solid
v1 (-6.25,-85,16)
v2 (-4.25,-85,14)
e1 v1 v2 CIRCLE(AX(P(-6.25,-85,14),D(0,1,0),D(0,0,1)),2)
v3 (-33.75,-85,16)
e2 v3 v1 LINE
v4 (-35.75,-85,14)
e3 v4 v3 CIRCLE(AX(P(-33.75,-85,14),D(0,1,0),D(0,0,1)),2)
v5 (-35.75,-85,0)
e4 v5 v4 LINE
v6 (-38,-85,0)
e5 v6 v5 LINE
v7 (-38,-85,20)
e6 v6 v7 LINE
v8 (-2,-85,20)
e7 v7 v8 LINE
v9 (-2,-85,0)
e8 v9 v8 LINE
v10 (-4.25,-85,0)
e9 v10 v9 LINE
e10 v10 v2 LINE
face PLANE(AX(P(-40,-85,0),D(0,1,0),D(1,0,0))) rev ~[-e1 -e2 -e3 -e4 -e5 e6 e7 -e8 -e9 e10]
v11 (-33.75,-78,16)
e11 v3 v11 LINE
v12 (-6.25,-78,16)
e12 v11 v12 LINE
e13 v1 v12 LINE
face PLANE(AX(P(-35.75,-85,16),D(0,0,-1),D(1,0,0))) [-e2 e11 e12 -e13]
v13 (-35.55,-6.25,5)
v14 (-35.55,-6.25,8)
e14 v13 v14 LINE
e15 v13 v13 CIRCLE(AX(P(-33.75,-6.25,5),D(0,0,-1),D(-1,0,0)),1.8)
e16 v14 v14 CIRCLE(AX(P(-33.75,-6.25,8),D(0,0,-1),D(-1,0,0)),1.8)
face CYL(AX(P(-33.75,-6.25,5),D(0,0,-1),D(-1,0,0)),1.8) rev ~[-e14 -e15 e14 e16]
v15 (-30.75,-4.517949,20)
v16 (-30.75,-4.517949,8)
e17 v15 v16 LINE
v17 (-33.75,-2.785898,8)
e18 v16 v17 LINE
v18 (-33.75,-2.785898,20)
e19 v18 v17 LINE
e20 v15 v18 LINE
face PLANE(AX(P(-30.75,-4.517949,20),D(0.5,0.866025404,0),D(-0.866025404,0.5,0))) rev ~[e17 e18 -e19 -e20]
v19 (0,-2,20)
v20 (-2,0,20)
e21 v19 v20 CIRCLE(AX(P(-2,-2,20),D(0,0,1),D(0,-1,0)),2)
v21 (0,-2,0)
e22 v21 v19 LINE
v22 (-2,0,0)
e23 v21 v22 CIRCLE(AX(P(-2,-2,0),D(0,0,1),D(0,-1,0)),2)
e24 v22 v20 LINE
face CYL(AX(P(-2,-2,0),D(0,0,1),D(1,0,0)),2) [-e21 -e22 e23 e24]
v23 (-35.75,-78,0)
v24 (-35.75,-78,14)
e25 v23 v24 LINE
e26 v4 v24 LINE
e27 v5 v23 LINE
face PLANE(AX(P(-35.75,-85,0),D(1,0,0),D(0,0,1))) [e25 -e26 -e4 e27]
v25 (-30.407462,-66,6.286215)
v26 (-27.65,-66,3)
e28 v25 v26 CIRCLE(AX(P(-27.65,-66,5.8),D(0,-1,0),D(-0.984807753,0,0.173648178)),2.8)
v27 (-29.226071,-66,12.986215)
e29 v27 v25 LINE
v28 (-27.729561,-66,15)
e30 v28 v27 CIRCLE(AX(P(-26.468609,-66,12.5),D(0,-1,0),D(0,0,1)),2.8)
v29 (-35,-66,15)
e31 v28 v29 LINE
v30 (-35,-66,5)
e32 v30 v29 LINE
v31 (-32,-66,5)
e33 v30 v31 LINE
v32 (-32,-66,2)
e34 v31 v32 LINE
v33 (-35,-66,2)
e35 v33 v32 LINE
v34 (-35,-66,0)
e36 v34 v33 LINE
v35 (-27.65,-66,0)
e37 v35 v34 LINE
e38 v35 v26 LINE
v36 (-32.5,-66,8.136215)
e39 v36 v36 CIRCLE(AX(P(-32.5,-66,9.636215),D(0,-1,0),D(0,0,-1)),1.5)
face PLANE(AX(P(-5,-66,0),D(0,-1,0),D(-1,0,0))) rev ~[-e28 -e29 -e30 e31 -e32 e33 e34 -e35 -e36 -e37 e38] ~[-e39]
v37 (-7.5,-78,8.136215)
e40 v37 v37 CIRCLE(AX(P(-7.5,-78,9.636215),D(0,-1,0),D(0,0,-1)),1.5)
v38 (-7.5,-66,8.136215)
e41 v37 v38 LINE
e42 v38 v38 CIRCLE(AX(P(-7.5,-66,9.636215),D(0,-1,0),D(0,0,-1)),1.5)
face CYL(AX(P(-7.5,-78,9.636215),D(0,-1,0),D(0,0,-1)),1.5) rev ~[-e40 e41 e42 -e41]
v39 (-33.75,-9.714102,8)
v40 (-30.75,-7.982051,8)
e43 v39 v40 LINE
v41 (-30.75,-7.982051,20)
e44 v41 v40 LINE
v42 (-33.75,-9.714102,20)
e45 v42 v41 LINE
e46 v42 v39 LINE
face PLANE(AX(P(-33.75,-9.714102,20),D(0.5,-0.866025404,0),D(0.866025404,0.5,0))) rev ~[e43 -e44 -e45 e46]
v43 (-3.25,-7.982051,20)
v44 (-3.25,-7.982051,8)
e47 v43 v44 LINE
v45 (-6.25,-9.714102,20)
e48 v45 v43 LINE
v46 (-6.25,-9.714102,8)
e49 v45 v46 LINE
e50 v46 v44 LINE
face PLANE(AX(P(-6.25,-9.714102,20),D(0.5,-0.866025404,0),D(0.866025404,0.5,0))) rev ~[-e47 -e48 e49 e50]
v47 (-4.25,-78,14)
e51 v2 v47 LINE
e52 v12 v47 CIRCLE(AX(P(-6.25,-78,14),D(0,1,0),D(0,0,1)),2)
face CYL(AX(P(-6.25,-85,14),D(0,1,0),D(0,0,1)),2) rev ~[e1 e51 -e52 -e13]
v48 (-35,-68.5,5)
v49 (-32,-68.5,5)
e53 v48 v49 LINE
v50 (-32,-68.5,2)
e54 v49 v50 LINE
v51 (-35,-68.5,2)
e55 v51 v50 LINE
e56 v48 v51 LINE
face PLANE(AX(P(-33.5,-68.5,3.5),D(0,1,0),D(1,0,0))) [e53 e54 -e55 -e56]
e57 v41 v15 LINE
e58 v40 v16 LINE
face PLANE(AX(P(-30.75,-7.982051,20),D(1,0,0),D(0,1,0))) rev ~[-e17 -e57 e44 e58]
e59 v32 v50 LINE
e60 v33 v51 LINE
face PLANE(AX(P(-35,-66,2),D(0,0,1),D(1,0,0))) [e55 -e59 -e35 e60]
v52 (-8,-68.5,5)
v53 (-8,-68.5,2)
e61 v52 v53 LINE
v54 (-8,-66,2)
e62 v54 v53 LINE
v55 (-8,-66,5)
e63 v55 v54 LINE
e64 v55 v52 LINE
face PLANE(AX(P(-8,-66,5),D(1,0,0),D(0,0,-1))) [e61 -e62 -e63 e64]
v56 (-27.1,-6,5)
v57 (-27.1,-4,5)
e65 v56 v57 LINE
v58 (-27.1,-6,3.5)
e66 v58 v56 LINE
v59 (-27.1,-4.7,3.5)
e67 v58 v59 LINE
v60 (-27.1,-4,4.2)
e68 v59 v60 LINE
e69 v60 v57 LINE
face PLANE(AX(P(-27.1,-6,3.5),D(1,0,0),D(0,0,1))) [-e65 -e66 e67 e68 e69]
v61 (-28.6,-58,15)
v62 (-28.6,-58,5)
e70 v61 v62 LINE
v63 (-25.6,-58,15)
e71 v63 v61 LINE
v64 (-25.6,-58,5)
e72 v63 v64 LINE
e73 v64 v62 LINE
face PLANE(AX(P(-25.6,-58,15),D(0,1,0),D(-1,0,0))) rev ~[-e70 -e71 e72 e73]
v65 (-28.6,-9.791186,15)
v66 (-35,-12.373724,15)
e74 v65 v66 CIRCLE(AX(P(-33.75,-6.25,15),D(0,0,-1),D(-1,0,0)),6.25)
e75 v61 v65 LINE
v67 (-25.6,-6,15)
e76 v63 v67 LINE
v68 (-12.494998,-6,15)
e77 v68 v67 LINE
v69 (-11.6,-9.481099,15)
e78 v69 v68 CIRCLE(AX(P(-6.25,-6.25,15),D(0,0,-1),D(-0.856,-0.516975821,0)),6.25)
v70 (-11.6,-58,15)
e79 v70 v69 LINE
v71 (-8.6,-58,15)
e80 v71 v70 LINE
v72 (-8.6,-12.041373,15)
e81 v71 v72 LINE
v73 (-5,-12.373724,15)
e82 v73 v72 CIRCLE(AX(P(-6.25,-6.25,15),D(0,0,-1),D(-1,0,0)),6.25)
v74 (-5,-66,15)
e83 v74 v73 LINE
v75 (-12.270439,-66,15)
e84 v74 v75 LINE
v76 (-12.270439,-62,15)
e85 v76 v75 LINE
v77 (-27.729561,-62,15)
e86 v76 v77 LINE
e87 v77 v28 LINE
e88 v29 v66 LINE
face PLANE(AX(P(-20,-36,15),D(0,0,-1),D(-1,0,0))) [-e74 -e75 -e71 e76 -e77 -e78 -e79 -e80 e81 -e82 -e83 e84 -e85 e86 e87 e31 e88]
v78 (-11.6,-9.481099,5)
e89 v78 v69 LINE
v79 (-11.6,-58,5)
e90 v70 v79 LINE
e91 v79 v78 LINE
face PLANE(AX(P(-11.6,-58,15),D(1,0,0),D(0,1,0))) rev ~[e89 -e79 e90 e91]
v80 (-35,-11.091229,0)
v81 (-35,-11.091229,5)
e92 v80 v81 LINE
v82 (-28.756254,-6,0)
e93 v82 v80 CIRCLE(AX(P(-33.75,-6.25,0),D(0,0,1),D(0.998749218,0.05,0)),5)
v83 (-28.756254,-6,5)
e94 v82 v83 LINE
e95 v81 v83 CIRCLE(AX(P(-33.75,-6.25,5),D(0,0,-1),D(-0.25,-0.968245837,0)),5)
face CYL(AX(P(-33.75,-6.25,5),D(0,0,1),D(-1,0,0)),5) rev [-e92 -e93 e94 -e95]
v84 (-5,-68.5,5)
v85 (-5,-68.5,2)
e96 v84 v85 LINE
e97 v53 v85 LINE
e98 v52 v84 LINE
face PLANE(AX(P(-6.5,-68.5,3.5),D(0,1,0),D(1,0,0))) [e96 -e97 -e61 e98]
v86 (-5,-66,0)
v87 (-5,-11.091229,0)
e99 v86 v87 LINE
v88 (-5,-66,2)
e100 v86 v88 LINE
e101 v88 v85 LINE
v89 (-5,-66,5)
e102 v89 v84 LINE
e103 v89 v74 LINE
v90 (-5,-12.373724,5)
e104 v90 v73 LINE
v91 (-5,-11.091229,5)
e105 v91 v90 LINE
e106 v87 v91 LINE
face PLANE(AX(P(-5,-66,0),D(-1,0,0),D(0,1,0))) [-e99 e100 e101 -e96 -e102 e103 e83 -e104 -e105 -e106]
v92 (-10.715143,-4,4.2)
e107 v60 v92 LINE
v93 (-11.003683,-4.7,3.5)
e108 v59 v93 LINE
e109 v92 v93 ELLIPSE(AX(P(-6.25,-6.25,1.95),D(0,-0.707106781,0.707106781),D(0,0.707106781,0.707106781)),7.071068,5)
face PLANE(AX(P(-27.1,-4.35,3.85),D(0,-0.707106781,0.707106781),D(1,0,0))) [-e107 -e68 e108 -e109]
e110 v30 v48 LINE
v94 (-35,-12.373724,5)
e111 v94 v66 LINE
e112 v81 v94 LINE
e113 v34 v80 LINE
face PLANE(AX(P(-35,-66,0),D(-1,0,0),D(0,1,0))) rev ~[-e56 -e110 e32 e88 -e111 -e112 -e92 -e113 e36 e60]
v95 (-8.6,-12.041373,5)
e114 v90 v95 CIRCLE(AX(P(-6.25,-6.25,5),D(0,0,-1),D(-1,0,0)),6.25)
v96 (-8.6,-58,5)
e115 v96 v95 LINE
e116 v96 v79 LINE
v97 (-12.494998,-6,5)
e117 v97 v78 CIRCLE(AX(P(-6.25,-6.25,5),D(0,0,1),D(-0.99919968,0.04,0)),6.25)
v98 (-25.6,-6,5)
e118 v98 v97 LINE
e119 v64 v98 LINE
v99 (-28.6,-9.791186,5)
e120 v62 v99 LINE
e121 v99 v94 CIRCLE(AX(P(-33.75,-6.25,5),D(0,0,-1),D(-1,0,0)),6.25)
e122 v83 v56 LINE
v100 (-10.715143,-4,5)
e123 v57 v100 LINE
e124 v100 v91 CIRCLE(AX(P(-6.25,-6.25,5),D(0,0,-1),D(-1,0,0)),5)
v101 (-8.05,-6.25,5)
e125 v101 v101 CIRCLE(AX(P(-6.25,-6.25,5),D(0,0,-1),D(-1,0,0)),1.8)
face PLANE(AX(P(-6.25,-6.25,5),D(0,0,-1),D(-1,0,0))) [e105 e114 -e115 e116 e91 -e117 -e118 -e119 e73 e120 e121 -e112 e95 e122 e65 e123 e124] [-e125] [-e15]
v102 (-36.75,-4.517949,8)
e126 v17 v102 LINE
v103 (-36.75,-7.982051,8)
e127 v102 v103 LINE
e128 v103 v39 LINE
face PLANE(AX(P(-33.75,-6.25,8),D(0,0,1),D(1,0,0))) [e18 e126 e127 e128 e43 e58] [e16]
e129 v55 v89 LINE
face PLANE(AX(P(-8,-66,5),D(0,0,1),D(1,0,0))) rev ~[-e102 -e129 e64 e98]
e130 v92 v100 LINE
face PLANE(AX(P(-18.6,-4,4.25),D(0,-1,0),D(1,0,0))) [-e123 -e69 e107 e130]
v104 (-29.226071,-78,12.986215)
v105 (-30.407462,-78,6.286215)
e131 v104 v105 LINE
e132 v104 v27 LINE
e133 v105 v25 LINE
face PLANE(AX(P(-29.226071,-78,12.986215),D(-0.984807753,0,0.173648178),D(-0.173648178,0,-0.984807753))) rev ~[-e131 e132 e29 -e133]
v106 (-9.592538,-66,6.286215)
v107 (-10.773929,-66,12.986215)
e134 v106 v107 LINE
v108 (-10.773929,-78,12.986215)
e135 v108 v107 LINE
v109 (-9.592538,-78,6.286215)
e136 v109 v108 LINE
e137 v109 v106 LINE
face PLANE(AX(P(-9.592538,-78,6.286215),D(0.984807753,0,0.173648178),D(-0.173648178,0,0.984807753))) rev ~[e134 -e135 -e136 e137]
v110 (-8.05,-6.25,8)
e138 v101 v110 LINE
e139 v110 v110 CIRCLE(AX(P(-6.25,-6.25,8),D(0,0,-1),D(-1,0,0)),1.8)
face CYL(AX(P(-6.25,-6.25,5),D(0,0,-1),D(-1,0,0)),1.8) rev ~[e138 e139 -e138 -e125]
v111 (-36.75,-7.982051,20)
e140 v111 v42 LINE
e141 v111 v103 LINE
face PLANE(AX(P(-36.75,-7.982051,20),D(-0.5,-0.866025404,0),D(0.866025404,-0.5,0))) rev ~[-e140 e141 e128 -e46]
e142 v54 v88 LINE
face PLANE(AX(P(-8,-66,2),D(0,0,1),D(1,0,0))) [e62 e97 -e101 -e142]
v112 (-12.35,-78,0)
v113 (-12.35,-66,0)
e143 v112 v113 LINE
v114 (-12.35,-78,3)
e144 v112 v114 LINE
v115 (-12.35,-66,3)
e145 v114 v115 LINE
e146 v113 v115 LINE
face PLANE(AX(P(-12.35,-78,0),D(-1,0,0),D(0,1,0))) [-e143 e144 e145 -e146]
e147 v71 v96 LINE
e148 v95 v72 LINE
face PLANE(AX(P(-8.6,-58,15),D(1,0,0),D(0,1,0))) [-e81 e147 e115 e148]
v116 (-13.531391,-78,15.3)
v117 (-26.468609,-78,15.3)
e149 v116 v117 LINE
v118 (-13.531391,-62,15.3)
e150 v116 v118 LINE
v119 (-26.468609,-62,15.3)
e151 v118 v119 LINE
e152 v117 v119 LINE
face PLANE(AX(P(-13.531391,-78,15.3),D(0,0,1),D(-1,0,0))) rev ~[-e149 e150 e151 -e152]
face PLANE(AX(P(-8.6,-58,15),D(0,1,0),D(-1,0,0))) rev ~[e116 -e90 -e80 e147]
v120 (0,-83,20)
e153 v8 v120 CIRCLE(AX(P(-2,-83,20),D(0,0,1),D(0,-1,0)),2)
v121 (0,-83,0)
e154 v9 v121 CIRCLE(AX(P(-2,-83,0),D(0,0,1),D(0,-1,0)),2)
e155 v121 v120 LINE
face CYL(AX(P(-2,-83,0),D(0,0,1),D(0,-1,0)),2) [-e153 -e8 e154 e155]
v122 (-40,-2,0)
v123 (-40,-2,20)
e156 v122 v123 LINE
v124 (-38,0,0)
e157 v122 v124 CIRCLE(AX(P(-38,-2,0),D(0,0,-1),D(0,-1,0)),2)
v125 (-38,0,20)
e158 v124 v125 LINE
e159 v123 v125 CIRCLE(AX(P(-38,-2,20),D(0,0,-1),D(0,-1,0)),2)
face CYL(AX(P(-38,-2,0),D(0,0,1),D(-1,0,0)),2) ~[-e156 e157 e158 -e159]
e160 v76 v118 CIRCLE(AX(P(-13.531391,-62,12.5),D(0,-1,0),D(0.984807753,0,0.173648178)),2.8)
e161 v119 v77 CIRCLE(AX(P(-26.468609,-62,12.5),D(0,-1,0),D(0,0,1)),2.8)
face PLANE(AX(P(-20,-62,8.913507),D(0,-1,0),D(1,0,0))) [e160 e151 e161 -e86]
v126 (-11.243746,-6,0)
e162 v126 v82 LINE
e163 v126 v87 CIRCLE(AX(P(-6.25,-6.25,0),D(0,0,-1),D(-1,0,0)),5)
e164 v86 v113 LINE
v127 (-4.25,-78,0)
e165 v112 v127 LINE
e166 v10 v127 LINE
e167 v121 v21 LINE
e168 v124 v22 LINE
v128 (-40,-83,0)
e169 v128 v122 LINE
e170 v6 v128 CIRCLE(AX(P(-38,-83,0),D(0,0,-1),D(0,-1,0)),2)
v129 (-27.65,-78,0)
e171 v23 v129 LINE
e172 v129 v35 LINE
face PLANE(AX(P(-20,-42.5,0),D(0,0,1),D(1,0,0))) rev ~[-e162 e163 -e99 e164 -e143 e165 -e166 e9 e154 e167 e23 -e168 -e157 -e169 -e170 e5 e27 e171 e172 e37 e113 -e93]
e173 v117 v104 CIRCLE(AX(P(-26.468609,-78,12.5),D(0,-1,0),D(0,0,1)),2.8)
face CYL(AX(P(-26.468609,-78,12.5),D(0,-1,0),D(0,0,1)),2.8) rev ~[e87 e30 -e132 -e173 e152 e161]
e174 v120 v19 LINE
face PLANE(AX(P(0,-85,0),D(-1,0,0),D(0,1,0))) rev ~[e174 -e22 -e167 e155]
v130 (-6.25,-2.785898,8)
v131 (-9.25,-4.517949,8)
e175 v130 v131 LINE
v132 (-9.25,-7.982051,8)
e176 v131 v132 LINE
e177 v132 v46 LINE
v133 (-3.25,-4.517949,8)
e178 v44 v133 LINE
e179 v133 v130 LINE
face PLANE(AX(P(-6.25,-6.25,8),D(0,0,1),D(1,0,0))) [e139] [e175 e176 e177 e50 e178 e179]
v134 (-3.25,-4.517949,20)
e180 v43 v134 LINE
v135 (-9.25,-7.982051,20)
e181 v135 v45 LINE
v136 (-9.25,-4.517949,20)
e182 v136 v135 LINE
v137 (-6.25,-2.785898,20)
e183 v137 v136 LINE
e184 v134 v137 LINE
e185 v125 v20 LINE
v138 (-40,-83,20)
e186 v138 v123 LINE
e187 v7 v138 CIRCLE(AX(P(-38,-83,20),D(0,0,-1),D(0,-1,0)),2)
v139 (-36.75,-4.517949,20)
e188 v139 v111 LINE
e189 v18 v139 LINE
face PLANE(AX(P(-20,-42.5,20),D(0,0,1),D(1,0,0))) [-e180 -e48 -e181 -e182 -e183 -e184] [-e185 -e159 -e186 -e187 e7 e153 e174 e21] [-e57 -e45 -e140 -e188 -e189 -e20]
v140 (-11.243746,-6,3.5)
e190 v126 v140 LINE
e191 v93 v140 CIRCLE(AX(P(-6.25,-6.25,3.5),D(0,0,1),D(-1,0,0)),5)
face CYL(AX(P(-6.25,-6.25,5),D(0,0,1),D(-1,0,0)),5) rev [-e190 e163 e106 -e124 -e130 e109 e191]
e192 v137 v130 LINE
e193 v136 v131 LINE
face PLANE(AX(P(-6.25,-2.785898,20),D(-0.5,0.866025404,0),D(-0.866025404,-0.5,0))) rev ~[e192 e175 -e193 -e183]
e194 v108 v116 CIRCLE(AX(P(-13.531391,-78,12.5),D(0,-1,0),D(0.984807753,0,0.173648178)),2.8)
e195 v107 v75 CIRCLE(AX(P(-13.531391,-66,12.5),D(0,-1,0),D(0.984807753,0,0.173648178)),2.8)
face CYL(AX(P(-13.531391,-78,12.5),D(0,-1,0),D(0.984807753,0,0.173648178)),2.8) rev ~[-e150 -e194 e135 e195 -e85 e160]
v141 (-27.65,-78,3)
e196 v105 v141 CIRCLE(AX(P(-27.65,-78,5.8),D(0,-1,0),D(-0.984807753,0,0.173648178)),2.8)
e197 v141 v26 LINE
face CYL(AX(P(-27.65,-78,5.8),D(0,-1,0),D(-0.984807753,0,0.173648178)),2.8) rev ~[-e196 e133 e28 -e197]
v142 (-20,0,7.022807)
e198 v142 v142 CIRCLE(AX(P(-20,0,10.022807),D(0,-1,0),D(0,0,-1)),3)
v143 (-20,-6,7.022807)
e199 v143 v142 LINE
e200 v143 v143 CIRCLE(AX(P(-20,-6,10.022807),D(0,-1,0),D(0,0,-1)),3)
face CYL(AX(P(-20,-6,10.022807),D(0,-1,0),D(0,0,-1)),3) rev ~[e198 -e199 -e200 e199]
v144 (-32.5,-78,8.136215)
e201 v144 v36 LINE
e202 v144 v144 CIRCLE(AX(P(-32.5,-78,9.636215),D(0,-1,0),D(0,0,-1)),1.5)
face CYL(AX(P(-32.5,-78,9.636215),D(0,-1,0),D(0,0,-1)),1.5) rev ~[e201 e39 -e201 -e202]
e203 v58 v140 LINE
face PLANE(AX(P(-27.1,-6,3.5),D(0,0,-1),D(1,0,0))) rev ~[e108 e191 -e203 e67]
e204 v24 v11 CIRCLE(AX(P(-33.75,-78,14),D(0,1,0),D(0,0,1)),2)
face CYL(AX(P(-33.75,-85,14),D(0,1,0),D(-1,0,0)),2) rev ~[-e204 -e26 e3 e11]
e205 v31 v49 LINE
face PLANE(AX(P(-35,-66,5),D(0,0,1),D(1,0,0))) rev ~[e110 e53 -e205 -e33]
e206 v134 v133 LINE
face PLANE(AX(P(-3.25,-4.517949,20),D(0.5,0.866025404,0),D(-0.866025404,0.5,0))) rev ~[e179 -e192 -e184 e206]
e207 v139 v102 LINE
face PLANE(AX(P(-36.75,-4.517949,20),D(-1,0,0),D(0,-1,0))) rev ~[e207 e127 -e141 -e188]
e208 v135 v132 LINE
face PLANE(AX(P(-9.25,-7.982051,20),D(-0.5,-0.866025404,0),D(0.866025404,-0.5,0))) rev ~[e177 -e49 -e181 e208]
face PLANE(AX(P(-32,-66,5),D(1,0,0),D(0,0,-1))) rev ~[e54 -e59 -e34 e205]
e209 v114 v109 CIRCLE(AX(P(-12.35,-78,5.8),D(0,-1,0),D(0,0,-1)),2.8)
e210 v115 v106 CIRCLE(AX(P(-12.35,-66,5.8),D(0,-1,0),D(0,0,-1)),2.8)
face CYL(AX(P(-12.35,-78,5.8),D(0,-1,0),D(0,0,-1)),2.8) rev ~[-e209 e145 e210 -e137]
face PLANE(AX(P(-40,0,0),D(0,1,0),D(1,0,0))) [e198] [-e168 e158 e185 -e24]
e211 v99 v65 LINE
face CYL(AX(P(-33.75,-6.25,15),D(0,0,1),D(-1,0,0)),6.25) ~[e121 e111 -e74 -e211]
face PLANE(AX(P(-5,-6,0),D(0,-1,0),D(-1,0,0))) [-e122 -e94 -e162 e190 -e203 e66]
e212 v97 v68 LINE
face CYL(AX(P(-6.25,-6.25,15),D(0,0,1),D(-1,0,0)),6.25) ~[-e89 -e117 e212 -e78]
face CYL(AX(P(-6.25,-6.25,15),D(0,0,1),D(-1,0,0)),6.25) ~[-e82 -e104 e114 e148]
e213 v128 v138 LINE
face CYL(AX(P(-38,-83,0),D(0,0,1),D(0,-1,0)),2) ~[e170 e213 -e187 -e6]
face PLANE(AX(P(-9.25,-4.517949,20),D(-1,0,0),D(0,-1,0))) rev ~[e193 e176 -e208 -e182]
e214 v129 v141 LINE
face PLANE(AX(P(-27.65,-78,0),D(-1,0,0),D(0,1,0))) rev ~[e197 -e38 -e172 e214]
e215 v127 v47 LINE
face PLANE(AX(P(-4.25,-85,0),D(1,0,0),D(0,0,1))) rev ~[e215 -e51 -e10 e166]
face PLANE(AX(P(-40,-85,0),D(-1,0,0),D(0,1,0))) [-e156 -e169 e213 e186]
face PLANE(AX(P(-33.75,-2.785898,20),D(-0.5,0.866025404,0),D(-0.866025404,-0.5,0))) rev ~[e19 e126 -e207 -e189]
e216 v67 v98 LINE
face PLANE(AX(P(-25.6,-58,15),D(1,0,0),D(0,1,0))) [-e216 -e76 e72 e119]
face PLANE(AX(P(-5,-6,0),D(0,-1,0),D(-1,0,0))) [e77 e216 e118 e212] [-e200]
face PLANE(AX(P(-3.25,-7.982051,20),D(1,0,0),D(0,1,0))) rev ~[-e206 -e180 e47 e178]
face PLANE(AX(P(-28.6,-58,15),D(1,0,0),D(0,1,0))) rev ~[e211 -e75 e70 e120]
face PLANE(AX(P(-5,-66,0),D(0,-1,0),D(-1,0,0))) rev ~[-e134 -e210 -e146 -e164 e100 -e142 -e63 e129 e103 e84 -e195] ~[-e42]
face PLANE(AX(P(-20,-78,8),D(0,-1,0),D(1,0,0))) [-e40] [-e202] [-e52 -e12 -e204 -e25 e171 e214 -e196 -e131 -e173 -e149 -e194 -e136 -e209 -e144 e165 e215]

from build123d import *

# Parameters (mm, degrees)
SKETCH_1_W           = 40
SKETCH_1_H           = 85
EXTRUDE_1_DEPTH      = 20
SKETCH_2_W           = 30
SKETCH_2_H           = 60
CUT_EXTRUDE_1_DEPTH  = 15
SKETCH_3_W           = 31.5
SKETCH_3_H           = 16
CUT_EXTRUDE_3_DEPTH  = 7
SKETCH_4_R           = 1.5
CUT_EXTRUDE_4_DEPTH  = 16
FILLET_1_R           = 2
FILLET_2_R           = 2
SKETCH_6_W           = 15.3
SKETCH_6_H           = 12
CUT_EXTRUDE_5_DEPTH  = 4
SKETCH_7_W           = 3
SKETCH_7_H           = 52
EXTRUDE_2_DEPTH      = 10
SKETCH_8_W           = 17
SKETCH_8_H           = 1.5
CUT_EXTRUDE_6_DEPTH  = 2
CHAMFER_1_SIZE       = 0.7
SKETCH_9_R           = 3
CUT_EXTRUDE_7_DEPTH  = 15
SKETCH_10_W          = 3
SKETCH_10_H          = 3
CUT_EXTRUDE_8_DEPTH  = 2.5
EXTRUDE_START        = -15
SKETCH_14_R          = 6.25
EXTRUDE_4_DEPTH      = 10
CUT_EXTRUDE_START    = -5
SKETCH_16_R          = 5
CUT_EXTRUDE_10_DEPTH = 5
SKETCH_17_R          = 1.8
CUT_EXTRUDE_11_DEPTH = 96.131487952
CUT_EXTRUDE_12_DEPTH = 12


with BuildPart() as part:
    # Эскиз1 → Бобышка-Вытянуть1 (new body)
    with BuildSketch(Plane.XY):
        with Locations((-20, -42.5)):
            Rectangle(SKETCH_1_W, SKETCH_1_H)
    extrude(amount=EXTRUDE_1_DEPTH)

    # Эскиз2 → Вырез-Вытянуть1 (cut)
    with BuildSketch(Plane(origin=(0, 0, 0), x_dir=(-1, 0, 0), z_dir=(0, 0, -1))):
        with Locations((20, -36)):
            Rectangle(SKETCH_2_W, SKETCH_2_H)
    extrude(amount=-CUT_EXTRUDE_1_DEPTH, mode=Mode.SUBTRACT)

    # Эскиз3 → Вырез-Вытянуть3 (cut)
    with BuildSketch(Plane.XZ.offset(85)):
        with Locations((-20, 8)):
            Rectangle(SKETCH_3_W, SKETCH_3_H)
    extrude(amount=-CUT_EXTRUDE_3_DEPTH, mode=Mode.SUBTRACT)

    # Эскиз4 → Вырез-Вытянуть4 (cut)
    with BuildSketch(Plane.XZ.offset(78)):
        with Locations(Location((-7.5, 9.636214897, 0), (0, 0, 270))):
            Circle(SKETCH_4_R)
        with Locations(Location((-32.5, 9.636214897, 0), (0, 0, 270))):
            Circle(SKETCH_4_R)
        with BuildLine():
            Line((-13.531390771, 15.3), (-26.468609229, 15.3))
            ThreePointArc((-26.468609229, 15.3), (-28.268414536, 14.644924441), (-29.226070938, 12.986214897))
            Line((-29.226070938, 12.986214897), (-30.407461708, 6.286214897))
            ThreePointArc((-30.407461708, 6.286214897), (-29.794924441, 4.000194693), (-27.65, 3))
            Line((-27.65, 3), (-12.35, 3))
            ThreePointArc((-12.35, 3), (-10.205075559, 4.000194693), (-9.592538292, 6.286214897))
            Line((-9.592538292, 6.286214897), (-10.773929062, 12.986214897))
            ThreePointArc((-10.773929062, 12.986214897), (-11.731585464, 14.644924441), (-13.531390771, 15.3))
        make_face()
    extrude(amount=-CUT_EXTRUDE_4_DEPTH, mode=Mode.SUBTRACT)

    # Скругление1
    fillet_1_edges = [part.edges().sort_by_distance(p)[0] for p in [
        (-4.25, -81.5, 16),
        (-35.75, -81.5, 16),
    ]]
    fillet(fillet_1_edges, radius=FILLET_1_R)

    # Скругление2
    fillet_2_edges = [part.edges().sort_by_distance(p)[0] for p in [
        (0, -85, 10),
        (-40, -85, 10),
        (-40, 0, 10),
        (0, 0, 10),
    ]]
    fillet(fillet_2_edges, radius=FILLET_2_R)

    # Эскиз6 → Вырез-Вытянуть5 (cut)
    with BuildSketch(Plane(origin=(0, 0, 0), x_dir=(-1, 0, 0), z_dir=(0, 0, -1))):
        with Locations((20, -72)):
            Rectangle(SKETCH_6_W, SKETCH_6_H)
    extrude(amount=-CUT_EXTRUDE_5_DEPTH, mode=Mode.SUBTRACT)

    # Эскиз7 → Бобышка-Вытянуть2 (add)
    with BuildSketch(Plane(origin=(0, 0, 15), x_dir=(-1, 0, 0), z_dir=(0, 0, -1))):
        with Locations((10.1, -32)):
            Rectangle(SKETCH_7_W, SKETCH_7_H)
        with Locations((27.1, -32)):
            Rectangle(SKETCH_7_W, SKETCH_7_H)
    extrude(amount=EXTRUDE_2_DEPTH)

    # Эскиз8 → Вырез-Вытянуть6 (cut)
    with BuildSketch(Plane.XZ.offset(6)):
        with Locations((-18.6, 4.25)):
            Rectangle(SKETCH_8_W, SKETCH_8_H)
    extrude(amount=-CUT_EXTRUDE_6_DEPTH, mode=Mode.SUBTRACT)

    # Фаска1
    chamfer_1_edges = [part.edges().sort_by_distance(p)[0] for p in [
        (-18.6, -4, 3.5),
    ]]
    chamfer(chamfer_1_edges, length=CHAMFER_1_SIZE)

    # Эскиз9 → Вырез-Вытянуть7 (cut)
    with BuildSketch(Plane.XZ.offset(6)):
        with Locations(Location((-20, 10.022807371, 0), (0, 0, 270))):
            Circle(SKETCH_9_R)
    extrude(amount=-CUT_EXTRUDE_7_DEPTH, mode=Mode.SUBTRACT)

    # Эскиз10 → Вырез-Вытянуть8 (cut)
    with BuildSketch(Plane(origin=(0, -66, 0), x_dir=(1, 0, 0), z_dir=(0, 1, 0))):
        with Locations((-33.5, -3.5)):
            Rectangle(SKETCH_10_W, SKETCH_10_H)
        with Locations((-6.5, -3.5)):
            Rectangle(SKETCH_10_W, SKETCH_10_H)
    extrude(amount=-CUT_EXTRUDE_8_DEPTH, mode=Mode.SUBTRACT)

    # Эскиз14 → Бобышка-Вытянуть4 (add)
    with BuildSketch(Plane(origin=(0, 0, 0), x_dir=(-1, 0, 0), z_dir=(0, 0, -1)).offset(EXTRUDE_START)):
        with Locations((6.25, -6.25)):
            Circle(SKETCH_14_R)
        with Locations((33.75, -6.25)):
            Circle(SKETCH_14_R)
    extrude(amount=EXTRUDE_4_DEPTH)

    # Эскиз16 → Вырез-Вытянуть10 (cut)
    with BuildSketch(Plane(origin=(0, 0, 0), x_dir=(-1, 0, 0), z_dir=(0, 0, -1)).offset(CUT_EXTRUDE_START)):
        with Locations((6.25, -6.25)):
            Circle(SKETCH_16_R)
        with Locations((33.75, -6.25)):
            Circle(SKETCH_16_R)
    extrude(amount=CUT_EXTRUDE_10_DEPTH, mode=Mode.SUBTRACT)

    # Эскиз17 → Вырез-Вытянуть11 (cut, through all)
    with BuildSketch(Plane(origin=(0, 0, 5), x_dir=(-1, 0, 0), z_dir=(0, 0, -1))):
        with Locations((6.25, -6.25)):
            Circle(SKETCH_17_R)
        with Locations((33.75, -6.25)):
            Circle(SKETCH_17_R)
    extrude(amount=-CUT_EXTRUDE_11_DEPTH, mode=Mode.SUBTRACT)

    # Эскиз18 → Вырез-Вытянуть12 (cut)
    with BuildSketch(Plane.XY.offset(20)):
        Polygon((-6.25, -9.714101615), (-3.25, -7.982050808), (-3.25, -4.517949192), (-6.25, -2.785898385), (-9.25, -4.517949192), (-9.25, -7.982050808), align=None)
        Polygon((-30.75, -4.517949192), (-33.75, -2.785898385), (-36.75, -4.517949192), (-36.75, -7.982050808), (-33.75, -9.714101615), (-30.75, -7.982050808), align=None)
    extrude(amount=-CUT_EXTRUDE_12_DEPTH, mode=Mode.SUBTRACT)


solid = part.part
